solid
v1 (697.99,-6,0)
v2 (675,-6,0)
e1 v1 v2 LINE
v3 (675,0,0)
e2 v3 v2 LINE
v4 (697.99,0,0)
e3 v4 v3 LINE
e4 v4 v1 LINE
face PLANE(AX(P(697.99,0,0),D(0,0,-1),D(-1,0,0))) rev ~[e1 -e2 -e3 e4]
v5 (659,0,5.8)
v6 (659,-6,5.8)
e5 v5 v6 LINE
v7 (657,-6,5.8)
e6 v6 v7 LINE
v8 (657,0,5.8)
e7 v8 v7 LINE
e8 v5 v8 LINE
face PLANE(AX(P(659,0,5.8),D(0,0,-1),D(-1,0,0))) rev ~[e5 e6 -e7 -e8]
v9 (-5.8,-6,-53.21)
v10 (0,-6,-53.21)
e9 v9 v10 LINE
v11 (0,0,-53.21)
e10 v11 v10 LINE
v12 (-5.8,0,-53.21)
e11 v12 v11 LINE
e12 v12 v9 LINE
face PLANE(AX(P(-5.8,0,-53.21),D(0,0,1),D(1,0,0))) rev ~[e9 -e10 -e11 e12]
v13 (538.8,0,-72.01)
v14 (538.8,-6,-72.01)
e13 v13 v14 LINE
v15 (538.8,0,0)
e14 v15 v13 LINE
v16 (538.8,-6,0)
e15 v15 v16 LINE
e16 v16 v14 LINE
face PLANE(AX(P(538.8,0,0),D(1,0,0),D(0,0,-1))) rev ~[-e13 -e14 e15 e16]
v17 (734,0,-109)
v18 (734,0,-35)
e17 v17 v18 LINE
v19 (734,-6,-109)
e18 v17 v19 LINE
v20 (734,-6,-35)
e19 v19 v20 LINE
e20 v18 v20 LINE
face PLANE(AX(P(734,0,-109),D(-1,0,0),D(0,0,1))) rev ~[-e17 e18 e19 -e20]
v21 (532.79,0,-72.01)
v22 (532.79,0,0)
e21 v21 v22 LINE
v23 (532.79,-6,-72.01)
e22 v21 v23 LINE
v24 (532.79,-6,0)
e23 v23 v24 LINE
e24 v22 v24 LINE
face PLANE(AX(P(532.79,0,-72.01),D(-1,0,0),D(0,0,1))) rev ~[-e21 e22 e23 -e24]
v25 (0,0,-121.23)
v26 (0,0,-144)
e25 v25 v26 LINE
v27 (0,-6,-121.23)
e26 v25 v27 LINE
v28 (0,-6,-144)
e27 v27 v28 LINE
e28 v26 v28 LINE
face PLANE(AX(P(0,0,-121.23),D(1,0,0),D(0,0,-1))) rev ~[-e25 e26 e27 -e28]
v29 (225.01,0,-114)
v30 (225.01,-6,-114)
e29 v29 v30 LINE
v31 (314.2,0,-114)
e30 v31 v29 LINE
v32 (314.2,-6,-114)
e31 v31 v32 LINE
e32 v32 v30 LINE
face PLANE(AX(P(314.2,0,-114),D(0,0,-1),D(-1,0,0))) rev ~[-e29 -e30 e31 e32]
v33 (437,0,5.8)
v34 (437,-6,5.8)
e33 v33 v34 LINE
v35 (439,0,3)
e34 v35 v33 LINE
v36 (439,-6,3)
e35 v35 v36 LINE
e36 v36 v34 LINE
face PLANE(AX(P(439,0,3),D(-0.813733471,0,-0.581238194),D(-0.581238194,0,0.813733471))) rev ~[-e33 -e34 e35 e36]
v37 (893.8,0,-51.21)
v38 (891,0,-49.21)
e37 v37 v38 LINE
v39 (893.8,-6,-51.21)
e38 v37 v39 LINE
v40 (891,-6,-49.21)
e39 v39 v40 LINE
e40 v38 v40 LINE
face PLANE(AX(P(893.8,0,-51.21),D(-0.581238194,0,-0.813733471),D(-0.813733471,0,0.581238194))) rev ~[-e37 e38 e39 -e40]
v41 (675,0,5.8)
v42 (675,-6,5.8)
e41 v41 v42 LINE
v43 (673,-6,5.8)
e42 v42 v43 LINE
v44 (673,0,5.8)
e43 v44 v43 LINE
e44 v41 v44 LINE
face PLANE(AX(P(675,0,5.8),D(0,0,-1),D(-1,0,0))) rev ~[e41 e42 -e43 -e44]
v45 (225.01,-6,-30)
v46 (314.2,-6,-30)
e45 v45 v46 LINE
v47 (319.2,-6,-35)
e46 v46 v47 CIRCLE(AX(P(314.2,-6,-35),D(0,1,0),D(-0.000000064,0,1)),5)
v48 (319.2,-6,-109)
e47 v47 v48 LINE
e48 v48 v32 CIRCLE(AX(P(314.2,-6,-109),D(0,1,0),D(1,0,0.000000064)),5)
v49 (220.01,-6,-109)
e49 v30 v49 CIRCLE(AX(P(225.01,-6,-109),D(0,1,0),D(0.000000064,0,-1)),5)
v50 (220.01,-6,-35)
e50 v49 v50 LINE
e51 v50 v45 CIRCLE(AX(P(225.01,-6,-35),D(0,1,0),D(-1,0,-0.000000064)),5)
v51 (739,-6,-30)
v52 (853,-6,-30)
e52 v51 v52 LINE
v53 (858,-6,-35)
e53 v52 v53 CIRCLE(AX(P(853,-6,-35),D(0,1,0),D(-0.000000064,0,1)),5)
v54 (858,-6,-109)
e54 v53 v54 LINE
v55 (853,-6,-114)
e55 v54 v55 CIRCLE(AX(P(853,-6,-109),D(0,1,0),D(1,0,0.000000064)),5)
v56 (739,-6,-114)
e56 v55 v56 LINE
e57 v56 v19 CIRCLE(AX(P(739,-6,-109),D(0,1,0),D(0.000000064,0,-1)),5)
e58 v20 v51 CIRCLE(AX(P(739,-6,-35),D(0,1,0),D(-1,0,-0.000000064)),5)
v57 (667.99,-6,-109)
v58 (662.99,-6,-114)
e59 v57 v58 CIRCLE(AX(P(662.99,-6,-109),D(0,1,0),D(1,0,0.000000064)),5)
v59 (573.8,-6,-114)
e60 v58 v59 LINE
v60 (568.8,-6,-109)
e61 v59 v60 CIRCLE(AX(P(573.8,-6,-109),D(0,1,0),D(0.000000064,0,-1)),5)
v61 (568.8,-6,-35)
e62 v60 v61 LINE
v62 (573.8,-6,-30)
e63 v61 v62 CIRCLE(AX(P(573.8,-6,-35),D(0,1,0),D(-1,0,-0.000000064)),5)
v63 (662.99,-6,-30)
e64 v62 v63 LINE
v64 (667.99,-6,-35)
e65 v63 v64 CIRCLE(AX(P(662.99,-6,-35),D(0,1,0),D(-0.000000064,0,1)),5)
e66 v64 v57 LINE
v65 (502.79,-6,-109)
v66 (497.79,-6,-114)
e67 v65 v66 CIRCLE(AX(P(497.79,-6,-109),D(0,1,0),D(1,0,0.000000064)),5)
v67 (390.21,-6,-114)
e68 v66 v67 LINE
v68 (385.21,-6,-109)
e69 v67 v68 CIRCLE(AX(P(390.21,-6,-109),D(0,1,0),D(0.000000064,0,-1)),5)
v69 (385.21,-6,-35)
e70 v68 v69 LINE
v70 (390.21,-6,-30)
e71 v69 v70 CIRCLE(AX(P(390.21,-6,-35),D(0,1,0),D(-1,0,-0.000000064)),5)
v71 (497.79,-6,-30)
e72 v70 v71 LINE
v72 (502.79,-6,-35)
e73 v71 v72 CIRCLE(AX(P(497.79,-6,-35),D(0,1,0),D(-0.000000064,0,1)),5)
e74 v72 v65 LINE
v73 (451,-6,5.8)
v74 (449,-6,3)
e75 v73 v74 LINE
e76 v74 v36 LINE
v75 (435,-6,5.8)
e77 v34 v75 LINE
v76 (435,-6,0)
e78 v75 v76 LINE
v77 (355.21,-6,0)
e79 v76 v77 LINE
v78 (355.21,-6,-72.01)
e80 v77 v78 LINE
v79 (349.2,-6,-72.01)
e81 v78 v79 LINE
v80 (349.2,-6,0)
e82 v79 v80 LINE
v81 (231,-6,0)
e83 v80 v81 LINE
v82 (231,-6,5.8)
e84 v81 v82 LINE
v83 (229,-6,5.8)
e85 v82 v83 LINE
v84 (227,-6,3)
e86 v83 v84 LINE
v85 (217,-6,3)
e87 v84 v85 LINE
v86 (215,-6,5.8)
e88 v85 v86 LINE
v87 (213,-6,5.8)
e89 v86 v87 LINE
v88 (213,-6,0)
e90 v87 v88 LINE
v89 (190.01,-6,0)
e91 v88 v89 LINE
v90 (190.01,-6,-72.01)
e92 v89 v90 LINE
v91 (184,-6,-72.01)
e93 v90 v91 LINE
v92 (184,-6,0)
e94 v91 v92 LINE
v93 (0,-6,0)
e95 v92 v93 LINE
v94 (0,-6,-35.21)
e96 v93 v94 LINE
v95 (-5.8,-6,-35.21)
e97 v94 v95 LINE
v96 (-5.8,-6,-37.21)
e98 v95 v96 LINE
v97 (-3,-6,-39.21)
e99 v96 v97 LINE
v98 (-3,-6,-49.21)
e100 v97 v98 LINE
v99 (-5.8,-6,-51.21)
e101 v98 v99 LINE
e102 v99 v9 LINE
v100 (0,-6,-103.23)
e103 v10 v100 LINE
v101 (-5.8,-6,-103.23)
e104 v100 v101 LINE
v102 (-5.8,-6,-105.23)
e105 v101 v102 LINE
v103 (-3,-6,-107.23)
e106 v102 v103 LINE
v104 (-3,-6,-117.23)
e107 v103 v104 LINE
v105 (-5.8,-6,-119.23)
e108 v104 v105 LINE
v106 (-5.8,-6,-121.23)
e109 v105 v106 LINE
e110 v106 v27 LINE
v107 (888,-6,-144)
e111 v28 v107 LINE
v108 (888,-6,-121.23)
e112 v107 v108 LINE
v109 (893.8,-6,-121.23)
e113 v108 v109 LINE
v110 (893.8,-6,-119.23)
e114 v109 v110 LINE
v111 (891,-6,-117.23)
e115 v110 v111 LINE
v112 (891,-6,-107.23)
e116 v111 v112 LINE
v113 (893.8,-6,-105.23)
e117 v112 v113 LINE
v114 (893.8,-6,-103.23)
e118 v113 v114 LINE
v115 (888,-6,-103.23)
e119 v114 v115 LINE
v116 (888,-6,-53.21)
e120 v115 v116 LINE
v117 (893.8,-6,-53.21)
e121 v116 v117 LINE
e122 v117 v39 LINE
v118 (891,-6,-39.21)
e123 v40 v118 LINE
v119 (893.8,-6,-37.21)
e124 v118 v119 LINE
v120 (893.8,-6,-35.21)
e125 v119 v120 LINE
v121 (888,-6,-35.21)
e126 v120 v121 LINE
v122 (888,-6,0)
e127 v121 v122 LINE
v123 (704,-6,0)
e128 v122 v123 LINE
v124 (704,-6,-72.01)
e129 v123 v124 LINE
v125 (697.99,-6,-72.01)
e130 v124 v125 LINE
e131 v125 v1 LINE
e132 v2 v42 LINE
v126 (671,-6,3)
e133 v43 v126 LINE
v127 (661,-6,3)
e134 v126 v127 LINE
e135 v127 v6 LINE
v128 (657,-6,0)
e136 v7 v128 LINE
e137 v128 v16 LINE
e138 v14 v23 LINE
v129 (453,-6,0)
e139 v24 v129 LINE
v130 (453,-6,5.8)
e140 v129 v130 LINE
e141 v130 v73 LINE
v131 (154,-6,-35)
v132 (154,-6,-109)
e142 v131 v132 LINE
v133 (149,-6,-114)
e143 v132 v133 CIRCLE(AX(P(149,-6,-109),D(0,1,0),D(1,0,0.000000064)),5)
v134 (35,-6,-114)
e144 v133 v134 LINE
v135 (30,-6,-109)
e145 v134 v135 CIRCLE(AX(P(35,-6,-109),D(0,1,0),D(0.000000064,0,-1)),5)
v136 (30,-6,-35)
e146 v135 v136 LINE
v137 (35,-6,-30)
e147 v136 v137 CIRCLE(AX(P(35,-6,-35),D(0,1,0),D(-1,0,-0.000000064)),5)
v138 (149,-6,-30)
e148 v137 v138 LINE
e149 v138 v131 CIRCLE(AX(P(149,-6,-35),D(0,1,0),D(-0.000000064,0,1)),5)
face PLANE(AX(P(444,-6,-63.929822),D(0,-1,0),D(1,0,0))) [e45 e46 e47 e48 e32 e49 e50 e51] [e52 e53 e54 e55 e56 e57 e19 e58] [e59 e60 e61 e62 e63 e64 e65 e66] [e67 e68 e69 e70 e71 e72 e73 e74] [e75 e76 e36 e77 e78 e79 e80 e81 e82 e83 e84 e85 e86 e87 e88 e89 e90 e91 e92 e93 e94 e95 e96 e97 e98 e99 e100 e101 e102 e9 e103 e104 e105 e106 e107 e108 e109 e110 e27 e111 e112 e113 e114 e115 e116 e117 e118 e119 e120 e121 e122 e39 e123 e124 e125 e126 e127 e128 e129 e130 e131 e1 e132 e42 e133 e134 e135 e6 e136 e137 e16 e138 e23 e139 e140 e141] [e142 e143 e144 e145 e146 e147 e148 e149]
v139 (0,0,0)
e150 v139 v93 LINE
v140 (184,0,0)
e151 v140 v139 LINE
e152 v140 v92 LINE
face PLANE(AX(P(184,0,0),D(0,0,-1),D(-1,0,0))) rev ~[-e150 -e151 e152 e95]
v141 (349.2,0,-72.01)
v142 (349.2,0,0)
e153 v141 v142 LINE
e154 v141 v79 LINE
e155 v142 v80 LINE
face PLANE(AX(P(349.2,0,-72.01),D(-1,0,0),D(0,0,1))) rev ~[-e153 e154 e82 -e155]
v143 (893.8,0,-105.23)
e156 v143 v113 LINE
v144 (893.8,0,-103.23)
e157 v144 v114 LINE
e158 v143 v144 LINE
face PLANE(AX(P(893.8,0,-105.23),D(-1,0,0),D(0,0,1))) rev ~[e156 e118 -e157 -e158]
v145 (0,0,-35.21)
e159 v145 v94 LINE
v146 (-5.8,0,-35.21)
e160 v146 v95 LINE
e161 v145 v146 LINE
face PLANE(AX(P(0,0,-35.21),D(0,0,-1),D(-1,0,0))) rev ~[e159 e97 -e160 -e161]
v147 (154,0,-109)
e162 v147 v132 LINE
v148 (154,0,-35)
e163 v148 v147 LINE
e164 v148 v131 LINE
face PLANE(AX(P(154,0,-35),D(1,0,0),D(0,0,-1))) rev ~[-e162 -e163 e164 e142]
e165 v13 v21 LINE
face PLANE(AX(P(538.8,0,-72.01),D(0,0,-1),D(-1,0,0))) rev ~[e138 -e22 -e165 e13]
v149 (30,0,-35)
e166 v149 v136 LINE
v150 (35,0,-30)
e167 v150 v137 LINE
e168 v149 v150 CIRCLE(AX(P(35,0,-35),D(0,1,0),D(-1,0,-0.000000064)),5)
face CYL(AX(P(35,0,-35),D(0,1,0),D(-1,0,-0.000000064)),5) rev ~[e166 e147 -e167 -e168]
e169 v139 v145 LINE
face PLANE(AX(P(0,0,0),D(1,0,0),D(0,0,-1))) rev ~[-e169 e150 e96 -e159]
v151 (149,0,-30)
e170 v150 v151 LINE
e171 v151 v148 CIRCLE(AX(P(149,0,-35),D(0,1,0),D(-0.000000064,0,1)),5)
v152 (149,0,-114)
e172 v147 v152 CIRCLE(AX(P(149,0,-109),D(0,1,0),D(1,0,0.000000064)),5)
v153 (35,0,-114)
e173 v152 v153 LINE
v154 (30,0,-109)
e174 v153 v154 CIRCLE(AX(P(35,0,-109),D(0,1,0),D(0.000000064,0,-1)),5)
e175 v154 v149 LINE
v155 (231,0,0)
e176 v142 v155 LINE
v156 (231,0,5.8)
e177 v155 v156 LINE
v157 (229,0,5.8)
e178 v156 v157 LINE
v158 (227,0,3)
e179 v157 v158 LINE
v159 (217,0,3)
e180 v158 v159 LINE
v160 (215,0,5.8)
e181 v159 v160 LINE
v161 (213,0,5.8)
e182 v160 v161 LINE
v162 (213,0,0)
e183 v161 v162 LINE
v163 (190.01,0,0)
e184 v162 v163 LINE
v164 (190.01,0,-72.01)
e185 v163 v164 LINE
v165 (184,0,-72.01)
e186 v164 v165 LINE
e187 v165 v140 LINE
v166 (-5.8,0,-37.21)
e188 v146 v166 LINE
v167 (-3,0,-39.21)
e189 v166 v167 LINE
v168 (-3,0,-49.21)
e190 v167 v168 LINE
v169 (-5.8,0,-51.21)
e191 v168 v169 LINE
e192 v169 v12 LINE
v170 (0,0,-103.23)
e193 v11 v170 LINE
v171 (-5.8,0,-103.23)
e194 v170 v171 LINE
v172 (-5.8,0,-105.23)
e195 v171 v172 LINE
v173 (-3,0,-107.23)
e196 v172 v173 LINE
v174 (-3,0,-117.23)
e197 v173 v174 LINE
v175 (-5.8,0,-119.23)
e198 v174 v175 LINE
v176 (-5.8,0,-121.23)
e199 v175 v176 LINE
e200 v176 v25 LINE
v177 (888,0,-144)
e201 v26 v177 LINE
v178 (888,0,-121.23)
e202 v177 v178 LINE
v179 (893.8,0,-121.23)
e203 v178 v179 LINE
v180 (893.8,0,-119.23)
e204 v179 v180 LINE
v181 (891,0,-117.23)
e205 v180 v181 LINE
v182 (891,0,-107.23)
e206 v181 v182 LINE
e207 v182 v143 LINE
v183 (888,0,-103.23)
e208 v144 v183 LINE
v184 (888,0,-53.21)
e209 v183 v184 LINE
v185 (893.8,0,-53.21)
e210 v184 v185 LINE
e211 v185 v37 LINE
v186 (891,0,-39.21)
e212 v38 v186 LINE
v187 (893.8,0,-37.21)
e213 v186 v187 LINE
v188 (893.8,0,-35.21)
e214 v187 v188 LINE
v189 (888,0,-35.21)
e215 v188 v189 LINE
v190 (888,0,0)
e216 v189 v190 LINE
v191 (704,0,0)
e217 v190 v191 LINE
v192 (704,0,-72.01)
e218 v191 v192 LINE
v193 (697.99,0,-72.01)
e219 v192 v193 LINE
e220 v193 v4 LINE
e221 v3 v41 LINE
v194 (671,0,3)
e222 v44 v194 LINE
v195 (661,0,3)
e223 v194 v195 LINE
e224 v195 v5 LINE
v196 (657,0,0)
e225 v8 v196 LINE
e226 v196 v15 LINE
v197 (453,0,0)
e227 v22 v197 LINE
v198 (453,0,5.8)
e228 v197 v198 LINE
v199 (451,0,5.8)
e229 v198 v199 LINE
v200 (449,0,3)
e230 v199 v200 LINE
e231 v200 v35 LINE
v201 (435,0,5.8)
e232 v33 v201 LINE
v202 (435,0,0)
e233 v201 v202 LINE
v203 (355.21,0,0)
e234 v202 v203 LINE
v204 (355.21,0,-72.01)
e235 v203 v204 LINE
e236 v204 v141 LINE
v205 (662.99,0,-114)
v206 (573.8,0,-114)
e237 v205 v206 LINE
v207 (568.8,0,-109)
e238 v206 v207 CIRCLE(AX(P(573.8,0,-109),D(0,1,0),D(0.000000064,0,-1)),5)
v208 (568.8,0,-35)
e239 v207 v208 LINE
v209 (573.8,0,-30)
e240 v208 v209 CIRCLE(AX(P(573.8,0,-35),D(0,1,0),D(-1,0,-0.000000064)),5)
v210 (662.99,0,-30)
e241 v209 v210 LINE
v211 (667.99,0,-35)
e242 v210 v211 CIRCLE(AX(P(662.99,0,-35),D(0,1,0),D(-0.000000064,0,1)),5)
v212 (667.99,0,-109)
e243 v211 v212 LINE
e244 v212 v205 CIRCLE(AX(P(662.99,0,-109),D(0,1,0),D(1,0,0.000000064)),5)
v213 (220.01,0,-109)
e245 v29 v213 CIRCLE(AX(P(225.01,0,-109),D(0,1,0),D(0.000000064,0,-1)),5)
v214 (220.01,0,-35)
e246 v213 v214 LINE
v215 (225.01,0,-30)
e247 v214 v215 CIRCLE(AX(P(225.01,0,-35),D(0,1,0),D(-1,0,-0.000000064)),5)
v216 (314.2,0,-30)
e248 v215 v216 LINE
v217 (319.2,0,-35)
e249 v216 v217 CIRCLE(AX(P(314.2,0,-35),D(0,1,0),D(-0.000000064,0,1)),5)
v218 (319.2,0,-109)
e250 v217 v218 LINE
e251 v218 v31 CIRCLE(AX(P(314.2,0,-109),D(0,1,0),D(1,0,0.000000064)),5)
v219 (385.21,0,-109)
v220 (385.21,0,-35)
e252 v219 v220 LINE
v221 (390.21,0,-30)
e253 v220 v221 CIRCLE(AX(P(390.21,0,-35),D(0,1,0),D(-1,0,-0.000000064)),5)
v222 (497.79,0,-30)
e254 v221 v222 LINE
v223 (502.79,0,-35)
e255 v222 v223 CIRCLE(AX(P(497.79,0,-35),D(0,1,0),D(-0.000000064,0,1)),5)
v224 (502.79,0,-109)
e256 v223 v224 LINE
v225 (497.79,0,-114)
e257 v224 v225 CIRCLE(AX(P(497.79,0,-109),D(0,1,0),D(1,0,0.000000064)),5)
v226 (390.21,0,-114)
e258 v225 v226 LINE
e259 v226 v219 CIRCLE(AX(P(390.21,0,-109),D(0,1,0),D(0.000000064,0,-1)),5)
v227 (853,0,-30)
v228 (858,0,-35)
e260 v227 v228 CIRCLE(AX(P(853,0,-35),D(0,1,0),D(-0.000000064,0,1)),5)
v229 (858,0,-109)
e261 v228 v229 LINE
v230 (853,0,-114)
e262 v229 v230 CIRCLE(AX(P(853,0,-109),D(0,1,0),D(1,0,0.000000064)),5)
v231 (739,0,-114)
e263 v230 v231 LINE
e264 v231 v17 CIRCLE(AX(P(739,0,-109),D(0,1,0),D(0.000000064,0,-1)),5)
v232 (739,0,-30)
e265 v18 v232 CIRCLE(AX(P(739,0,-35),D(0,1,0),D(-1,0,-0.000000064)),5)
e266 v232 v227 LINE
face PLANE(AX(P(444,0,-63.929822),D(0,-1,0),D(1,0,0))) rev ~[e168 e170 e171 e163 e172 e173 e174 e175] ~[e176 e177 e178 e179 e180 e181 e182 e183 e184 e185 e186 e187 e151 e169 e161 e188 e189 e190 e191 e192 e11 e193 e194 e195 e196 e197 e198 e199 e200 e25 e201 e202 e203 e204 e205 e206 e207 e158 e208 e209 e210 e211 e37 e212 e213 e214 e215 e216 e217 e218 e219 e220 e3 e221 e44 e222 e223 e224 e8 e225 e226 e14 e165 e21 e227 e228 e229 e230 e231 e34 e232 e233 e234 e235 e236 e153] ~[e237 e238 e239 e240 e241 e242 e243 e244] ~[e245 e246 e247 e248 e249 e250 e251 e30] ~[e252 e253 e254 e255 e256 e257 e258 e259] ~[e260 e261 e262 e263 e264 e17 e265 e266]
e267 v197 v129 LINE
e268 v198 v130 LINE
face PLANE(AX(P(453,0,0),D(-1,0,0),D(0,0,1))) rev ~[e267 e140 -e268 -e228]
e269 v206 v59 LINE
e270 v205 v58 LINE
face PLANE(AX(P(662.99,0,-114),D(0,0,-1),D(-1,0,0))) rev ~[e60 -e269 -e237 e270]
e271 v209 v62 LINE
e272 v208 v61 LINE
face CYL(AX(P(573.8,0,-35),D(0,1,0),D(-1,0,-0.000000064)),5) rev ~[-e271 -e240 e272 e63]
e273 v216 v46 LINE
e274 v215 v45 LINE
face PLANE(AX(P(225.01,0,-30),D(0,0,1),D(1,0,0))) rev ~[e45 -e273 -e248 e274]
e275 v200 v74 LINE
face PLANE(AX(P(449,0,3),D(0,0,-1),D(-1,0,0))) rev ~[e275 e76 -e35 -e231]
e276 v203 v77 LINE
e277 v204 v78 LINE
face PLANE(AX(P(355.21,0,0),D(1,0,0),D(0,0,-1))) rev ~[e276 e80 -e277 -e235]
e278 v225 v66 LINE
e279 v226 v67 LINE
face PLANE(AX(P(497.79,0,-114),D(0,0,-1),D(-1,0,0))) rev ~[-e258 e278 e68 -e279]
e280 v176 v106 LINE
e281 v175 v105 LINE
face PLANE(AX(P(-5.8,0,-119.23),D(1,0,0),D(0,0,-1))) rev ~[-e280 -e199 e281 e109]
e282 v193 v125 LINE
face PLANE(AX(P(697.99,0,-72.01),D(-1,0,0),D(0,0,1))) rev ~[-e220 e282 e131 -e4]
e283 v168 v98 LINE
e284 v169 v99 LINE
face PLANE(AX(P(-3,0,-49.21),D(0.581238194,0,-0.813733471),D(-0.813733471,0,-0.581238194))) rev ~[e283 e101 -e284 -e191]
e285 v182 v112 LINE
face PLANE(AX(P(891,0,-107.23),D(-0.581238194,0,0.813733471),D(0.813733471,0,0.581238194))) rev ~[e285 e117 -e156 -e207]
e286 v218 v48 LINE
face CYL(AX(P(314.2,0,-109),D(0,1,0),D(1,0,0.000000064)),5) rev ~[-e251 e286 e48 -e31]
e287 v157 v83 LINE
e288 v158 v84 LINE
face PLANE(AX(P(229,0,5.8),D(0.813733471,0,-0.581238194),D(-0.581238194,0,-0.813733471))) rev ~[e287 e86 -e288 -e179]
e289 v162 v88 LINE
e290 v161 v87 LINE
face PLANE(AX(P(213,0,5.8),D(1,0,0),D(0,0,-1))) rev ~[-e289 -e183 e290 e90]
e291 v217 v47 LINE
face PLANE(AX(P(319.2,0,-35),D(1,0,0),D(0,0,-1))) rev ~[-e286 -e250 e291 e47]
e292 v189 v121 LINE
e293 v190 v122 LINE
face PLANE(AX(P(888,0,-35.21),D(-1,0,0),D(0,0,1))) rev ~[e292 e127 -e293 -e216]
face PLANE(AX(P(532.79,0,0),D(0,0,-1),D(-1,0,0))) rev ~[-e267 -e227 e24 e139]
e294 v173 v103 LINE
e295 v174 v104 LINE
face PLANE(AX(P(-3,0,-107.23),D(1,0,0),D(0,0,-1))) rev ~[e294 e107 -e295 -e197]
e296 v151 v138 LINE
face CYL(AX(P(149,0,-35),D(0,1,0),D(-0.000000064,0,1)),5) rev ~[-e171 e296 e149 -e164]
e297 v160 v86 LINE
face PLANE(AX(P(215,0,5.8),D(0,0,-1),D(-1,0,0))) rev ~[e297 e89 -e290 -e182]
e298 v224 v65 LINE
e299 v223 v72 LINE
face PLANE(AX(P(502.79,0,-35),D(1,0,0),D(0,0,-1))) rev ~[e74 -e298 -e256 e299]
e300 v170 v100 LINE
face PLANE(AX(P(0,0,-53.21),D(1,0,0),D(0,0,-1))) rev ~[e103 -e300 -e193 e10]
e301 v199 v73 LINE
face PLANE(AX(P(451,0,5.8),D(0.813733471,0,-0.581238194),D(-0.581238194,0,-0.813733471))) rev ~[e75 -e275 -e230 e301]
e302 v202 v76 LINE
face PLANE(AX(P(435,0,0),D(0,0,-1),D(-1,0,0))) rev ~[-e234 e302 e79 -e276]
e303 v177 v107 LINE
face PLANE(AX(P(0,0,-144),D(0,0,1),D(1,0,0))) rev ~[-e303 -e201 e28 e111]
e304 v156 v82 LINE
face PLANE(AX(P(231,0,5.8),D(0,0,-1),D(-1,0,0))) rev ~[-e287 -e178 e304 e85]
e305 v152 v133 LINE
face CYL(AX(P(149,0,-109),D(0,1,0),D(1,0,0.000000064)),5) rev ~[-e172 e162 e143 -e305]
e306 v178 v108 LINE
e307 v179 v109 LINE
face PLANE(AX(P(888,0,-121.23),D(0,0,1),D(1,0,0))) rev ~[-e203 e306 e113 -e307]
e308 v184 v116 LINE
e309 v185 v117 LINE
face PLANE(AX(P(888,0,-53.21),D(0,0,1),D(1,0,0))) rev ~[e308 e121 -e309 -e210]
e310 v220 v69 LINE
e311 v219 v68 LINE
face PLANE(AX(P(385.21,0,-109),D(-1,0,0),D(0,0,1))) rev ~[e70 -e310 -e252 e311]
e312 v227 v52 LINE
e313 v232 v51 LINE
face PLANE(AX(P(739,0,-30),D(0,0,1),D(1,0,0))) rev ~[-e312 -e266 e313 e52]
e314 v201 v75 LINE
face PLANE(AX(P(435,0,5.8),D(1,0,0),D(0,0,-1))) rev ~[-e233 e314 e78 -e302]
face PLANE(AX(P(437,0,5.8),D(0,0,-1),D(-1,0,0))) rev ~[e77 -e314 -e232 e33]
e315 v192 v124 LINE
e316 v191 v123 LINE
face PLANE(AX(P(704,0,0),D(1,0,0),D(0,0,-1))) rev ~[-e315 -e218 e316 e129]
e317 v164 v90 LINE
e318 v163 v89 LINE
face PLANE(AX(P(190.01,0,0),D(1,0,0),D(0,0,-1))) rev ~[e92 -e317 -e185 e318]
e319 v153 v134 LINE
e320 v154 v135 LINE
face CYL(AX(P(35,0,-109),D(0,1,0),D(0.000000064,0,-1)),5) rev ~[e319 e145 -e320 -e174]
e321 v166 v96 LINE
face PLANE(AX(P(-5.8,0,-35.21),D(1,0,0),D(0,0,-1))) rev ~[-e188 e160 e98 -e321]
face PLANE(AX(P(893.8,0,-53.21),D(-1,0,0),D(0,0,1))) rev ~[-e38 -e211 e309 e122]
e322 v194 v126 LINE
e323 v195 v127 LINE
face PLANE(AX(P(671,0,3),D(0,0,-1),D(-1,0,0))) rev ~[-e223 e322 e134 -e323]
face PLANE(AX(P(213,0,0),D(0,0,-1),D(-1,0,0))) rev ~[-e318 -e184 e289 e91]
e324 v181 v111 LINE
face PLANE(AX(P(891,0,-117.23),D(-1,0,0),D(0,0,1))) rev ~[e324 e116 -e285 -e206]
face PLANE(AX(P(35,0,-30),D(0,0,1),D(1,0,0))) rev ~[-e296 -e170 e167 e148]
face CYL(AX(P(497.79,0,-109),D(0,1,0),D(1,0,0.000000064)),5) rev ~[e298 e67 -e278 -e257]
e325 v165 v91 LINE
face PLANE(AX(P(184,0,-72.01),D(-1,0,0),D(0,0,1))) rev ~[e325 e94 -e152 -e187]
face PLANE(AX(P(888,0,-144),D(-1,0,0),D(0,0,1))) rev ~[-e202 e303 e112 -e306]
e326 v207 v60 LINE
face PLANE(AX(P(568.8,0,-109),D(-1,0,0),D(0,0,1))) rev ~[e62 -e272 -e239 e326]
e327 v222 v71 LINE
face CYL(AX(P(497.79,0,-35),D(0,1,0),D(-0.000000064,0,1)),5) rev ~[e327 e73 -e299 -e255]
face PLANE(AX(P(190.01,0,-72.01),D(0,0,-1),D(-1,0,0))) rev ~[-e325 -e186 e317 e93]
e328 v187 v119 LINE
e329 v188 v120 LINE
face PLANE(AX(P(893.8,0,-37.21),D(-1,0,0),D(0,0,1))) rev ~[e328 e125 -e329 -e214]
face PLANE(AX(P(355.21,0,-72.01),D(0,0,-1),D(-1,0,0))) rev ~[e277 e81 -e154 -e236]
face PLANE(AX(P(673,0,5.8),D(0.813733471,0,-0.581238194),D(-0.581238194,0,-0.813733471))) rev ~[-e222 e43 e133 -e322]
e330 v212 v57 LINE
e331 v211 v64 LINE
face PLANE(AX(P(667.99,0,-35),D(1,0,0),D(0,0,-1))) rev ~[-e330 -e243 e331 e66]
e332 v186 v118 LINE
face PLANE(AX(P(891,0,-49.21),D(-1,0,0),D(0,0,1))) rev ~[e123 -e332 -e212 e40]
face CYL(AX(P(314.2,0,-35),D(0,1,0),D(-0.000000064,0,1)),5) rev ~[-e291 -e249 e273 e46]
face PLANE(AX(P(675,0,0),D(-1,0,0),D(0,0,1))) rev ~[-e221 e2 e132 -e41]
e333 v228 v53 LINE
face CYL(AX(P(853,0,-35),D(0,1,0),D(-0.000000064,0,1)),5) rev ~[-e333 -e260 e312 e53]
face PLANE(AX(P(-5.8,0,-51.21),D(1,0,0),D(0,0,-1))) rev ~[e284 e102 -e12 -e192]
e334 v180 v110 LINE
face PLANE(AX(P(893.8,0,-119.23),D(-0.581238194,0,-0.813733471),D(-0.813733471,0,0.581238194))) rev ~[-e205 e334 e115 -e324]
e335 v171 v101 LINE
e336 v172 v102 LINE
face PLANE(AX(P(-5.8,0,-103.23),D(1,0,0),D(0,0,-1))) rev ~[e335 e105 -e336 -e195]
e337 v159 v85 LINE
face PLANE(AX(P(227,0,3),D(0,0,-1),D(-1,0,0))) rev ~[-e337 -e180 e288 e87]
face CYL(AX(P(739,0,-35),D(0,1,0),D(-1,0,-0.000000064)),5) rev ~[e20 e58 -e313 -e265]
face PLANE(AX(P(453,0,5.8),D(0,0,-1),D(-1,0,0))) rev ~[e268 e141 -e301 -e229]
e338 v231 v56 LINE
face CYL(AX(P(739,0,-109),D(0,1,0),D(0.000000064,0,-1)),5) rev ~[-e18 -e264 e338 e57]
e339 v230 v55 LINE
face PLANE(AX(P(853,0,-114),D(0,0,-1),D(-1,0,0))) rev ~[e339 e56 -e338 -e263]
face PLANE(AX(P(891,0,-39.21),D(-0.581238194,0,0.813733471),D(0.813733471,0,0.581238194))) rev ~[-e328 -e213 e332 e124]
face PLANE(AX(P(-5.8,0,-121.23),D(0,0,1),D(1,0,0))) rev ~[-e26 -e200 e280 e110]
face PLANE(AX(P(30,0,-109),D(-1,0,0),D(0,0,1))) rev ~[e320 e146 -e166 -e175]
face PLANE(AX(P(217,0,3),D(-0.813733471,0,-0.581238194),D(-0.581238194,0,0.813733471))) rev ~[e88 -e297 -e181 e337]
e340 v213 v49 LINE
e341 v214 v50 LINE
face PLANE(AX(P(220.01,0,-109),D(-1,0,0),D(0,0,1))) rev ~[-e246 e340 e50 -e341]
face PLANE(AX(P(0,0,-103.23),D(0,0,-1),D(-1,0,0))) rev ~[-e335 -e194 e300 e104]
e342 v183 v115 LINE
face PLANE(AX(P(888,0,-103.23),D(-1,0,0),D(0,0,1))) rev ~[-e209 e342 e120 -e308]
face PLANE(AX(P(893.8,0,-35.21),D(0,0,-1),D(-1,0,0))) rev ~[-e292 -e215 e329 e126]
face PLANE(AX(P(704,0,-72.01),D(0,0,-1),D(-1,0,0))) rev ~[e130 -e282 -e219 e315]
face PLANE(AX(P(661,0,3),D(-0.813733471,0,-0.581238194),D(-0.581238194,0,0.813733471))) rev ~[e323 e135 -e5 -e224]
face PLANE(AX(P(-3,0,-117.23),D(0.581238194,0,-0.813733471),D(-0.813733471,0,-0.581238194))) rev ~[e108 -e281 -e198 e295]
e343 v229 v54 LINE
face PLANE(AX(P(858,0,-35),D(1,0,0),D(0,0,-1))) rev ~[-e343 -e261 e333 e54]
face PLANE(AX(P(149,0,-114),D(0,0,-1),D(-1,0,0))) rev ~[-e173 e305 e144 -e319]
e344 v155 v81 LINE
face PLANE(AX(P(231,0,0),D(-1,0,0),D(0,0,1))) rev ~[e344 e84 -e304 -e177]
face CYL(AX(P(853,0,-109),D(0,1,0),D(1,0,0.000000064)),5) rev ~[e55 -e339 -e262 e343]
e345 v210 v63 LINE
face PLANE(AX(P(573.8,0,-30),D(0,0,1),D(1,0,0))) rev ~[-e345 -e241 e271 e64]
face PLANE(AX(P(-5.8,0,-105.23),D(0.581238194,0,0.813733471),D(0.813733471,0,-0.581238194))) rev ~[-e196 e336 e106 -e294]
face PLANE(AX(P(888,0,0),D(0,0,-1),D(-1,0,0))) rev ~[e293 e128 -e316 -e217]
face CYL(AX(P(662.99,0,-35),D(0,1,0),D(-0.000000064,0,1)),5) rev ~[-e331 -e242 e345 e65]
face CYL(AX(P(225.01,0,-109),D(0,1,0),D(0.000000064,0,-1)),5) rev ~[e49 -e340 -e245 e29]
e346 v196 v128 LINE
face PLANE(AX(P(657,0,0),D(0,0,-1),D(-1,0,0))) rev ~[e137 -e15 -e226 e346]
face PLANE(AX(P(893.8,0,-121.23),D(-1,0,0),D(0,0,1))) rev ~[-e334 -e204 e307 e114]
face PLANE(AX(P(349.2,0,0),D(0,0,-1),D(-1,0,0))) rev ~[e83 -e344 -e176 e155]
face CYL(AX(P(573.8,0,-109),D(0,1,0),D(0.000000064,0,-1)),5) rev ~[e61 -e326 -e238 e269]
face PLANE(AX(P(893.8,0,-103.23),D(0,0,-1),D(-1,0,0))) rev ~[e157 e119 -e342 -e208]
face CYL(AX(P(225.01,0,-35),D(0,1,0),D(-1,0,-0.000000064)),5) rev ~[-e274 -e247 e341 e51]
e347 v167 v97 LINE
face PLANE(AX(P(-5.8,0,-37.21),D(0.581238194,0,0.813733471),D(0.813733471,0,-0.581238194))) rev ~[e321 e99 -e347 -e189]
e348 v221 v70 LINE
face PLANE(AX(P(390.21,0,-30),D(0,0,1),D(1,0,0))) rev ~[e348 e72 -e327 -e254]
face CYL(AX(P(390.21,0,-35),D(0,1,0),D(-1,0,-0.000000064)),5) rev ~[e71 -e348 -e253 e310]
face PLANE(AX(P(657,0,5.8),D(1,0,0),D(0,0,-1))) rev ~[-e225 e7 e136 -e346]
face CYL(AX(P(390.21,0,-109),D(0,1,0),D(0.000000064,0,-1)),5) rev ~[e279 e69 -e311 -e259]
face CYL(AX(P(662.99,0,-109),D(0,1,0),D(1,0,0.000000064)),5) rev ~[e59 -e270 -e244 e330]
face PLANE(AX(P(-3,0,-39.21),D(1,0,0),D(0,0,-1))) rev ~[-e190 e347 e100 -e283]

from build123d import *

# Parameters (mm, degrees)
F1_DEPTH = 6


with BuildPart() as f1:
    # F0 (on Front) → F1 (new body)
    with BuildSketch(Plane.XZ):
        Polygon((184, 0), (0, 0), (0, -35.21), (-5.8, -35.21), (-5.8, -37.21), (-3, -39.21), (-3, -49.21), (-5.8, -51.21), (-5.8, -53.21), (0, -53.21), (0, -103.23), (-5.8, -103.23), (-5.8, -105.23), (-3, -107.23), (-3, -117.23), (-5.8, -119.23), (-5.8, -121.23), (0, -121.23), (0, -144), (888, -144), (888, -121.23), (893.8, -121.23), (893.8, -119.23), (891, -117.23), (891, -107.23), (893.8, -105.23), (893.8, -103.23), (888, -103.23), (888, -53.21), (893.8, -53.21), (893.8, -51.21), (891, -49.21), (891, -39.21), (893.8, -37.21), (893.8, -35.21), (888, -35.21), (888, 0), (704, 0), (704, -72.01), (697.99, -72.01), (697.99, 0), (675, 0), (675, 5.8), (673, 5.8), (671, 3), (661, 3), (659, 5.8), (657, 5.8), (657, 0), (538.8, 0), (538.8, -72.01), (532.79, -72.01), (532.79, 0), (453, 0), (453, 5.8), (451, 5.8), (449, 3), (439, 3), (437, 5.8), (435, 5.8), (435, 0), (355.21, 0), (355.21, -72.01), (349.2, -72.01), (349.2, 0), (231, 0), (231, 5.8), (229, 5.8), (227, 3), (217, 3), (215, 5.8), (213, 5.8), (213, 0), (190.01, 0), (190.01, -72.01), (184, -72.01), align=None)
        with BuildLine():
            ThreePointArc((30, -35), (31.464466, -31.464466), (35, -30))
            Line((35, -30), (149, -30))
            ThreePointArc((149, -30), (152.535534, -31.464466), (154, -35))
            Line((154, -35), (154, -109))
            ThreePointArc((154, -109), (152.535534, -112.535534), (149, -114))
            Line((149, -114), (35, -114))
            ThreePointArc((35, -114), (31.464466, -112.535534), (30, -109))
            Line((30, -109), (30, -35))
        make_face(mode=Mode.SUBTRACT)
        with BuildLine():
            Line((220.01, -109), (220.01, -35))
            ThreePointArc((220.01, -35), (221.474466, -31.464466), (225.01, -30))
            Line((225.01, -30), (314.2, -30))
            ThreePointArc((314.2, -30), (317.735534, -31.464466), (319.2, -35))
            Line((319.2, -35), (319.2, -109))
            ThreePointArc((319.2, -109), (317.735534, -112.535534), (314.2, -114))
            Line((314.2, -114), (225.01, -114))
            ThreePointArc((225.01, -114), (221.474466, -112.535534), (220.01, -109))
        make_face(mode=Mode.SUBTRACT)
        with BuildLine():
            ThreePointArc((385.21, -35), (386.674466, -31.464466), (390.21, -30))
            Line((390.21, -30), (497.79, -30))
            ThreePointArc((497.79, -30), (501.325534, -31.464466), (502.79, -35))
            Line((502.79, -35), (502.79, -109))
            ThreePointArc((502.79, -109), (501.325534, -112.535534), (497.79, -114))
            Line((497.79, -114), (390.21, -114))
            ThreePointArc((390.21, -114), (386.674466, -112.535534), (385.21, -109))
            Line((385.21, -109), (385.21, -35))
        make_face(mode=Mode.SUBTRACT)
        with BuildLine():
            ThreePointArc((568.8, -35), (570.264466, -31.464466), (573.8, -30))
            Line((573.8, -30), (662.99, -30))
            ThreePointArc((662.99, -30), (666.525534, -31.464466), (667.99, -35))
            Line((667.99, -35), (667.99, -109))
            ThreePointArc((667.99, -109), (666.525534, -112.535534), (662.99, -114))
            Line((662.99, -114), (573.8, -114))
            ThreePointArc((573.8, -114), (570.264466, -112.535534), (568.8, -109))
            Line((568.8, -109), (568.8, -35))
        make_face(mode=Mode.SUBTRACT)
        with BuildLine():
            ThreePointArc((734, -35), (735.464466, -31.464466), (739, -30))
            Line((739, -30), (853, -30))
            ThreePointArc((853, -30), (856.535534, -31.464466), (858, -35))
            Line((858, -35), (858, -109))
            ThreePointArc((858, -109), (856.535534, -112.535534), (853, -114))
            Line((853, -114), (739, -114))
            ThreePointArc((739, -114), (735.464466, -112.535534), (734, -109))
            Line((734, -109), (734, -35))
        make_face(mode=Mode.SUBTRACT)
    extrude(amount=F1_DEPTH)


solid = f1.part
